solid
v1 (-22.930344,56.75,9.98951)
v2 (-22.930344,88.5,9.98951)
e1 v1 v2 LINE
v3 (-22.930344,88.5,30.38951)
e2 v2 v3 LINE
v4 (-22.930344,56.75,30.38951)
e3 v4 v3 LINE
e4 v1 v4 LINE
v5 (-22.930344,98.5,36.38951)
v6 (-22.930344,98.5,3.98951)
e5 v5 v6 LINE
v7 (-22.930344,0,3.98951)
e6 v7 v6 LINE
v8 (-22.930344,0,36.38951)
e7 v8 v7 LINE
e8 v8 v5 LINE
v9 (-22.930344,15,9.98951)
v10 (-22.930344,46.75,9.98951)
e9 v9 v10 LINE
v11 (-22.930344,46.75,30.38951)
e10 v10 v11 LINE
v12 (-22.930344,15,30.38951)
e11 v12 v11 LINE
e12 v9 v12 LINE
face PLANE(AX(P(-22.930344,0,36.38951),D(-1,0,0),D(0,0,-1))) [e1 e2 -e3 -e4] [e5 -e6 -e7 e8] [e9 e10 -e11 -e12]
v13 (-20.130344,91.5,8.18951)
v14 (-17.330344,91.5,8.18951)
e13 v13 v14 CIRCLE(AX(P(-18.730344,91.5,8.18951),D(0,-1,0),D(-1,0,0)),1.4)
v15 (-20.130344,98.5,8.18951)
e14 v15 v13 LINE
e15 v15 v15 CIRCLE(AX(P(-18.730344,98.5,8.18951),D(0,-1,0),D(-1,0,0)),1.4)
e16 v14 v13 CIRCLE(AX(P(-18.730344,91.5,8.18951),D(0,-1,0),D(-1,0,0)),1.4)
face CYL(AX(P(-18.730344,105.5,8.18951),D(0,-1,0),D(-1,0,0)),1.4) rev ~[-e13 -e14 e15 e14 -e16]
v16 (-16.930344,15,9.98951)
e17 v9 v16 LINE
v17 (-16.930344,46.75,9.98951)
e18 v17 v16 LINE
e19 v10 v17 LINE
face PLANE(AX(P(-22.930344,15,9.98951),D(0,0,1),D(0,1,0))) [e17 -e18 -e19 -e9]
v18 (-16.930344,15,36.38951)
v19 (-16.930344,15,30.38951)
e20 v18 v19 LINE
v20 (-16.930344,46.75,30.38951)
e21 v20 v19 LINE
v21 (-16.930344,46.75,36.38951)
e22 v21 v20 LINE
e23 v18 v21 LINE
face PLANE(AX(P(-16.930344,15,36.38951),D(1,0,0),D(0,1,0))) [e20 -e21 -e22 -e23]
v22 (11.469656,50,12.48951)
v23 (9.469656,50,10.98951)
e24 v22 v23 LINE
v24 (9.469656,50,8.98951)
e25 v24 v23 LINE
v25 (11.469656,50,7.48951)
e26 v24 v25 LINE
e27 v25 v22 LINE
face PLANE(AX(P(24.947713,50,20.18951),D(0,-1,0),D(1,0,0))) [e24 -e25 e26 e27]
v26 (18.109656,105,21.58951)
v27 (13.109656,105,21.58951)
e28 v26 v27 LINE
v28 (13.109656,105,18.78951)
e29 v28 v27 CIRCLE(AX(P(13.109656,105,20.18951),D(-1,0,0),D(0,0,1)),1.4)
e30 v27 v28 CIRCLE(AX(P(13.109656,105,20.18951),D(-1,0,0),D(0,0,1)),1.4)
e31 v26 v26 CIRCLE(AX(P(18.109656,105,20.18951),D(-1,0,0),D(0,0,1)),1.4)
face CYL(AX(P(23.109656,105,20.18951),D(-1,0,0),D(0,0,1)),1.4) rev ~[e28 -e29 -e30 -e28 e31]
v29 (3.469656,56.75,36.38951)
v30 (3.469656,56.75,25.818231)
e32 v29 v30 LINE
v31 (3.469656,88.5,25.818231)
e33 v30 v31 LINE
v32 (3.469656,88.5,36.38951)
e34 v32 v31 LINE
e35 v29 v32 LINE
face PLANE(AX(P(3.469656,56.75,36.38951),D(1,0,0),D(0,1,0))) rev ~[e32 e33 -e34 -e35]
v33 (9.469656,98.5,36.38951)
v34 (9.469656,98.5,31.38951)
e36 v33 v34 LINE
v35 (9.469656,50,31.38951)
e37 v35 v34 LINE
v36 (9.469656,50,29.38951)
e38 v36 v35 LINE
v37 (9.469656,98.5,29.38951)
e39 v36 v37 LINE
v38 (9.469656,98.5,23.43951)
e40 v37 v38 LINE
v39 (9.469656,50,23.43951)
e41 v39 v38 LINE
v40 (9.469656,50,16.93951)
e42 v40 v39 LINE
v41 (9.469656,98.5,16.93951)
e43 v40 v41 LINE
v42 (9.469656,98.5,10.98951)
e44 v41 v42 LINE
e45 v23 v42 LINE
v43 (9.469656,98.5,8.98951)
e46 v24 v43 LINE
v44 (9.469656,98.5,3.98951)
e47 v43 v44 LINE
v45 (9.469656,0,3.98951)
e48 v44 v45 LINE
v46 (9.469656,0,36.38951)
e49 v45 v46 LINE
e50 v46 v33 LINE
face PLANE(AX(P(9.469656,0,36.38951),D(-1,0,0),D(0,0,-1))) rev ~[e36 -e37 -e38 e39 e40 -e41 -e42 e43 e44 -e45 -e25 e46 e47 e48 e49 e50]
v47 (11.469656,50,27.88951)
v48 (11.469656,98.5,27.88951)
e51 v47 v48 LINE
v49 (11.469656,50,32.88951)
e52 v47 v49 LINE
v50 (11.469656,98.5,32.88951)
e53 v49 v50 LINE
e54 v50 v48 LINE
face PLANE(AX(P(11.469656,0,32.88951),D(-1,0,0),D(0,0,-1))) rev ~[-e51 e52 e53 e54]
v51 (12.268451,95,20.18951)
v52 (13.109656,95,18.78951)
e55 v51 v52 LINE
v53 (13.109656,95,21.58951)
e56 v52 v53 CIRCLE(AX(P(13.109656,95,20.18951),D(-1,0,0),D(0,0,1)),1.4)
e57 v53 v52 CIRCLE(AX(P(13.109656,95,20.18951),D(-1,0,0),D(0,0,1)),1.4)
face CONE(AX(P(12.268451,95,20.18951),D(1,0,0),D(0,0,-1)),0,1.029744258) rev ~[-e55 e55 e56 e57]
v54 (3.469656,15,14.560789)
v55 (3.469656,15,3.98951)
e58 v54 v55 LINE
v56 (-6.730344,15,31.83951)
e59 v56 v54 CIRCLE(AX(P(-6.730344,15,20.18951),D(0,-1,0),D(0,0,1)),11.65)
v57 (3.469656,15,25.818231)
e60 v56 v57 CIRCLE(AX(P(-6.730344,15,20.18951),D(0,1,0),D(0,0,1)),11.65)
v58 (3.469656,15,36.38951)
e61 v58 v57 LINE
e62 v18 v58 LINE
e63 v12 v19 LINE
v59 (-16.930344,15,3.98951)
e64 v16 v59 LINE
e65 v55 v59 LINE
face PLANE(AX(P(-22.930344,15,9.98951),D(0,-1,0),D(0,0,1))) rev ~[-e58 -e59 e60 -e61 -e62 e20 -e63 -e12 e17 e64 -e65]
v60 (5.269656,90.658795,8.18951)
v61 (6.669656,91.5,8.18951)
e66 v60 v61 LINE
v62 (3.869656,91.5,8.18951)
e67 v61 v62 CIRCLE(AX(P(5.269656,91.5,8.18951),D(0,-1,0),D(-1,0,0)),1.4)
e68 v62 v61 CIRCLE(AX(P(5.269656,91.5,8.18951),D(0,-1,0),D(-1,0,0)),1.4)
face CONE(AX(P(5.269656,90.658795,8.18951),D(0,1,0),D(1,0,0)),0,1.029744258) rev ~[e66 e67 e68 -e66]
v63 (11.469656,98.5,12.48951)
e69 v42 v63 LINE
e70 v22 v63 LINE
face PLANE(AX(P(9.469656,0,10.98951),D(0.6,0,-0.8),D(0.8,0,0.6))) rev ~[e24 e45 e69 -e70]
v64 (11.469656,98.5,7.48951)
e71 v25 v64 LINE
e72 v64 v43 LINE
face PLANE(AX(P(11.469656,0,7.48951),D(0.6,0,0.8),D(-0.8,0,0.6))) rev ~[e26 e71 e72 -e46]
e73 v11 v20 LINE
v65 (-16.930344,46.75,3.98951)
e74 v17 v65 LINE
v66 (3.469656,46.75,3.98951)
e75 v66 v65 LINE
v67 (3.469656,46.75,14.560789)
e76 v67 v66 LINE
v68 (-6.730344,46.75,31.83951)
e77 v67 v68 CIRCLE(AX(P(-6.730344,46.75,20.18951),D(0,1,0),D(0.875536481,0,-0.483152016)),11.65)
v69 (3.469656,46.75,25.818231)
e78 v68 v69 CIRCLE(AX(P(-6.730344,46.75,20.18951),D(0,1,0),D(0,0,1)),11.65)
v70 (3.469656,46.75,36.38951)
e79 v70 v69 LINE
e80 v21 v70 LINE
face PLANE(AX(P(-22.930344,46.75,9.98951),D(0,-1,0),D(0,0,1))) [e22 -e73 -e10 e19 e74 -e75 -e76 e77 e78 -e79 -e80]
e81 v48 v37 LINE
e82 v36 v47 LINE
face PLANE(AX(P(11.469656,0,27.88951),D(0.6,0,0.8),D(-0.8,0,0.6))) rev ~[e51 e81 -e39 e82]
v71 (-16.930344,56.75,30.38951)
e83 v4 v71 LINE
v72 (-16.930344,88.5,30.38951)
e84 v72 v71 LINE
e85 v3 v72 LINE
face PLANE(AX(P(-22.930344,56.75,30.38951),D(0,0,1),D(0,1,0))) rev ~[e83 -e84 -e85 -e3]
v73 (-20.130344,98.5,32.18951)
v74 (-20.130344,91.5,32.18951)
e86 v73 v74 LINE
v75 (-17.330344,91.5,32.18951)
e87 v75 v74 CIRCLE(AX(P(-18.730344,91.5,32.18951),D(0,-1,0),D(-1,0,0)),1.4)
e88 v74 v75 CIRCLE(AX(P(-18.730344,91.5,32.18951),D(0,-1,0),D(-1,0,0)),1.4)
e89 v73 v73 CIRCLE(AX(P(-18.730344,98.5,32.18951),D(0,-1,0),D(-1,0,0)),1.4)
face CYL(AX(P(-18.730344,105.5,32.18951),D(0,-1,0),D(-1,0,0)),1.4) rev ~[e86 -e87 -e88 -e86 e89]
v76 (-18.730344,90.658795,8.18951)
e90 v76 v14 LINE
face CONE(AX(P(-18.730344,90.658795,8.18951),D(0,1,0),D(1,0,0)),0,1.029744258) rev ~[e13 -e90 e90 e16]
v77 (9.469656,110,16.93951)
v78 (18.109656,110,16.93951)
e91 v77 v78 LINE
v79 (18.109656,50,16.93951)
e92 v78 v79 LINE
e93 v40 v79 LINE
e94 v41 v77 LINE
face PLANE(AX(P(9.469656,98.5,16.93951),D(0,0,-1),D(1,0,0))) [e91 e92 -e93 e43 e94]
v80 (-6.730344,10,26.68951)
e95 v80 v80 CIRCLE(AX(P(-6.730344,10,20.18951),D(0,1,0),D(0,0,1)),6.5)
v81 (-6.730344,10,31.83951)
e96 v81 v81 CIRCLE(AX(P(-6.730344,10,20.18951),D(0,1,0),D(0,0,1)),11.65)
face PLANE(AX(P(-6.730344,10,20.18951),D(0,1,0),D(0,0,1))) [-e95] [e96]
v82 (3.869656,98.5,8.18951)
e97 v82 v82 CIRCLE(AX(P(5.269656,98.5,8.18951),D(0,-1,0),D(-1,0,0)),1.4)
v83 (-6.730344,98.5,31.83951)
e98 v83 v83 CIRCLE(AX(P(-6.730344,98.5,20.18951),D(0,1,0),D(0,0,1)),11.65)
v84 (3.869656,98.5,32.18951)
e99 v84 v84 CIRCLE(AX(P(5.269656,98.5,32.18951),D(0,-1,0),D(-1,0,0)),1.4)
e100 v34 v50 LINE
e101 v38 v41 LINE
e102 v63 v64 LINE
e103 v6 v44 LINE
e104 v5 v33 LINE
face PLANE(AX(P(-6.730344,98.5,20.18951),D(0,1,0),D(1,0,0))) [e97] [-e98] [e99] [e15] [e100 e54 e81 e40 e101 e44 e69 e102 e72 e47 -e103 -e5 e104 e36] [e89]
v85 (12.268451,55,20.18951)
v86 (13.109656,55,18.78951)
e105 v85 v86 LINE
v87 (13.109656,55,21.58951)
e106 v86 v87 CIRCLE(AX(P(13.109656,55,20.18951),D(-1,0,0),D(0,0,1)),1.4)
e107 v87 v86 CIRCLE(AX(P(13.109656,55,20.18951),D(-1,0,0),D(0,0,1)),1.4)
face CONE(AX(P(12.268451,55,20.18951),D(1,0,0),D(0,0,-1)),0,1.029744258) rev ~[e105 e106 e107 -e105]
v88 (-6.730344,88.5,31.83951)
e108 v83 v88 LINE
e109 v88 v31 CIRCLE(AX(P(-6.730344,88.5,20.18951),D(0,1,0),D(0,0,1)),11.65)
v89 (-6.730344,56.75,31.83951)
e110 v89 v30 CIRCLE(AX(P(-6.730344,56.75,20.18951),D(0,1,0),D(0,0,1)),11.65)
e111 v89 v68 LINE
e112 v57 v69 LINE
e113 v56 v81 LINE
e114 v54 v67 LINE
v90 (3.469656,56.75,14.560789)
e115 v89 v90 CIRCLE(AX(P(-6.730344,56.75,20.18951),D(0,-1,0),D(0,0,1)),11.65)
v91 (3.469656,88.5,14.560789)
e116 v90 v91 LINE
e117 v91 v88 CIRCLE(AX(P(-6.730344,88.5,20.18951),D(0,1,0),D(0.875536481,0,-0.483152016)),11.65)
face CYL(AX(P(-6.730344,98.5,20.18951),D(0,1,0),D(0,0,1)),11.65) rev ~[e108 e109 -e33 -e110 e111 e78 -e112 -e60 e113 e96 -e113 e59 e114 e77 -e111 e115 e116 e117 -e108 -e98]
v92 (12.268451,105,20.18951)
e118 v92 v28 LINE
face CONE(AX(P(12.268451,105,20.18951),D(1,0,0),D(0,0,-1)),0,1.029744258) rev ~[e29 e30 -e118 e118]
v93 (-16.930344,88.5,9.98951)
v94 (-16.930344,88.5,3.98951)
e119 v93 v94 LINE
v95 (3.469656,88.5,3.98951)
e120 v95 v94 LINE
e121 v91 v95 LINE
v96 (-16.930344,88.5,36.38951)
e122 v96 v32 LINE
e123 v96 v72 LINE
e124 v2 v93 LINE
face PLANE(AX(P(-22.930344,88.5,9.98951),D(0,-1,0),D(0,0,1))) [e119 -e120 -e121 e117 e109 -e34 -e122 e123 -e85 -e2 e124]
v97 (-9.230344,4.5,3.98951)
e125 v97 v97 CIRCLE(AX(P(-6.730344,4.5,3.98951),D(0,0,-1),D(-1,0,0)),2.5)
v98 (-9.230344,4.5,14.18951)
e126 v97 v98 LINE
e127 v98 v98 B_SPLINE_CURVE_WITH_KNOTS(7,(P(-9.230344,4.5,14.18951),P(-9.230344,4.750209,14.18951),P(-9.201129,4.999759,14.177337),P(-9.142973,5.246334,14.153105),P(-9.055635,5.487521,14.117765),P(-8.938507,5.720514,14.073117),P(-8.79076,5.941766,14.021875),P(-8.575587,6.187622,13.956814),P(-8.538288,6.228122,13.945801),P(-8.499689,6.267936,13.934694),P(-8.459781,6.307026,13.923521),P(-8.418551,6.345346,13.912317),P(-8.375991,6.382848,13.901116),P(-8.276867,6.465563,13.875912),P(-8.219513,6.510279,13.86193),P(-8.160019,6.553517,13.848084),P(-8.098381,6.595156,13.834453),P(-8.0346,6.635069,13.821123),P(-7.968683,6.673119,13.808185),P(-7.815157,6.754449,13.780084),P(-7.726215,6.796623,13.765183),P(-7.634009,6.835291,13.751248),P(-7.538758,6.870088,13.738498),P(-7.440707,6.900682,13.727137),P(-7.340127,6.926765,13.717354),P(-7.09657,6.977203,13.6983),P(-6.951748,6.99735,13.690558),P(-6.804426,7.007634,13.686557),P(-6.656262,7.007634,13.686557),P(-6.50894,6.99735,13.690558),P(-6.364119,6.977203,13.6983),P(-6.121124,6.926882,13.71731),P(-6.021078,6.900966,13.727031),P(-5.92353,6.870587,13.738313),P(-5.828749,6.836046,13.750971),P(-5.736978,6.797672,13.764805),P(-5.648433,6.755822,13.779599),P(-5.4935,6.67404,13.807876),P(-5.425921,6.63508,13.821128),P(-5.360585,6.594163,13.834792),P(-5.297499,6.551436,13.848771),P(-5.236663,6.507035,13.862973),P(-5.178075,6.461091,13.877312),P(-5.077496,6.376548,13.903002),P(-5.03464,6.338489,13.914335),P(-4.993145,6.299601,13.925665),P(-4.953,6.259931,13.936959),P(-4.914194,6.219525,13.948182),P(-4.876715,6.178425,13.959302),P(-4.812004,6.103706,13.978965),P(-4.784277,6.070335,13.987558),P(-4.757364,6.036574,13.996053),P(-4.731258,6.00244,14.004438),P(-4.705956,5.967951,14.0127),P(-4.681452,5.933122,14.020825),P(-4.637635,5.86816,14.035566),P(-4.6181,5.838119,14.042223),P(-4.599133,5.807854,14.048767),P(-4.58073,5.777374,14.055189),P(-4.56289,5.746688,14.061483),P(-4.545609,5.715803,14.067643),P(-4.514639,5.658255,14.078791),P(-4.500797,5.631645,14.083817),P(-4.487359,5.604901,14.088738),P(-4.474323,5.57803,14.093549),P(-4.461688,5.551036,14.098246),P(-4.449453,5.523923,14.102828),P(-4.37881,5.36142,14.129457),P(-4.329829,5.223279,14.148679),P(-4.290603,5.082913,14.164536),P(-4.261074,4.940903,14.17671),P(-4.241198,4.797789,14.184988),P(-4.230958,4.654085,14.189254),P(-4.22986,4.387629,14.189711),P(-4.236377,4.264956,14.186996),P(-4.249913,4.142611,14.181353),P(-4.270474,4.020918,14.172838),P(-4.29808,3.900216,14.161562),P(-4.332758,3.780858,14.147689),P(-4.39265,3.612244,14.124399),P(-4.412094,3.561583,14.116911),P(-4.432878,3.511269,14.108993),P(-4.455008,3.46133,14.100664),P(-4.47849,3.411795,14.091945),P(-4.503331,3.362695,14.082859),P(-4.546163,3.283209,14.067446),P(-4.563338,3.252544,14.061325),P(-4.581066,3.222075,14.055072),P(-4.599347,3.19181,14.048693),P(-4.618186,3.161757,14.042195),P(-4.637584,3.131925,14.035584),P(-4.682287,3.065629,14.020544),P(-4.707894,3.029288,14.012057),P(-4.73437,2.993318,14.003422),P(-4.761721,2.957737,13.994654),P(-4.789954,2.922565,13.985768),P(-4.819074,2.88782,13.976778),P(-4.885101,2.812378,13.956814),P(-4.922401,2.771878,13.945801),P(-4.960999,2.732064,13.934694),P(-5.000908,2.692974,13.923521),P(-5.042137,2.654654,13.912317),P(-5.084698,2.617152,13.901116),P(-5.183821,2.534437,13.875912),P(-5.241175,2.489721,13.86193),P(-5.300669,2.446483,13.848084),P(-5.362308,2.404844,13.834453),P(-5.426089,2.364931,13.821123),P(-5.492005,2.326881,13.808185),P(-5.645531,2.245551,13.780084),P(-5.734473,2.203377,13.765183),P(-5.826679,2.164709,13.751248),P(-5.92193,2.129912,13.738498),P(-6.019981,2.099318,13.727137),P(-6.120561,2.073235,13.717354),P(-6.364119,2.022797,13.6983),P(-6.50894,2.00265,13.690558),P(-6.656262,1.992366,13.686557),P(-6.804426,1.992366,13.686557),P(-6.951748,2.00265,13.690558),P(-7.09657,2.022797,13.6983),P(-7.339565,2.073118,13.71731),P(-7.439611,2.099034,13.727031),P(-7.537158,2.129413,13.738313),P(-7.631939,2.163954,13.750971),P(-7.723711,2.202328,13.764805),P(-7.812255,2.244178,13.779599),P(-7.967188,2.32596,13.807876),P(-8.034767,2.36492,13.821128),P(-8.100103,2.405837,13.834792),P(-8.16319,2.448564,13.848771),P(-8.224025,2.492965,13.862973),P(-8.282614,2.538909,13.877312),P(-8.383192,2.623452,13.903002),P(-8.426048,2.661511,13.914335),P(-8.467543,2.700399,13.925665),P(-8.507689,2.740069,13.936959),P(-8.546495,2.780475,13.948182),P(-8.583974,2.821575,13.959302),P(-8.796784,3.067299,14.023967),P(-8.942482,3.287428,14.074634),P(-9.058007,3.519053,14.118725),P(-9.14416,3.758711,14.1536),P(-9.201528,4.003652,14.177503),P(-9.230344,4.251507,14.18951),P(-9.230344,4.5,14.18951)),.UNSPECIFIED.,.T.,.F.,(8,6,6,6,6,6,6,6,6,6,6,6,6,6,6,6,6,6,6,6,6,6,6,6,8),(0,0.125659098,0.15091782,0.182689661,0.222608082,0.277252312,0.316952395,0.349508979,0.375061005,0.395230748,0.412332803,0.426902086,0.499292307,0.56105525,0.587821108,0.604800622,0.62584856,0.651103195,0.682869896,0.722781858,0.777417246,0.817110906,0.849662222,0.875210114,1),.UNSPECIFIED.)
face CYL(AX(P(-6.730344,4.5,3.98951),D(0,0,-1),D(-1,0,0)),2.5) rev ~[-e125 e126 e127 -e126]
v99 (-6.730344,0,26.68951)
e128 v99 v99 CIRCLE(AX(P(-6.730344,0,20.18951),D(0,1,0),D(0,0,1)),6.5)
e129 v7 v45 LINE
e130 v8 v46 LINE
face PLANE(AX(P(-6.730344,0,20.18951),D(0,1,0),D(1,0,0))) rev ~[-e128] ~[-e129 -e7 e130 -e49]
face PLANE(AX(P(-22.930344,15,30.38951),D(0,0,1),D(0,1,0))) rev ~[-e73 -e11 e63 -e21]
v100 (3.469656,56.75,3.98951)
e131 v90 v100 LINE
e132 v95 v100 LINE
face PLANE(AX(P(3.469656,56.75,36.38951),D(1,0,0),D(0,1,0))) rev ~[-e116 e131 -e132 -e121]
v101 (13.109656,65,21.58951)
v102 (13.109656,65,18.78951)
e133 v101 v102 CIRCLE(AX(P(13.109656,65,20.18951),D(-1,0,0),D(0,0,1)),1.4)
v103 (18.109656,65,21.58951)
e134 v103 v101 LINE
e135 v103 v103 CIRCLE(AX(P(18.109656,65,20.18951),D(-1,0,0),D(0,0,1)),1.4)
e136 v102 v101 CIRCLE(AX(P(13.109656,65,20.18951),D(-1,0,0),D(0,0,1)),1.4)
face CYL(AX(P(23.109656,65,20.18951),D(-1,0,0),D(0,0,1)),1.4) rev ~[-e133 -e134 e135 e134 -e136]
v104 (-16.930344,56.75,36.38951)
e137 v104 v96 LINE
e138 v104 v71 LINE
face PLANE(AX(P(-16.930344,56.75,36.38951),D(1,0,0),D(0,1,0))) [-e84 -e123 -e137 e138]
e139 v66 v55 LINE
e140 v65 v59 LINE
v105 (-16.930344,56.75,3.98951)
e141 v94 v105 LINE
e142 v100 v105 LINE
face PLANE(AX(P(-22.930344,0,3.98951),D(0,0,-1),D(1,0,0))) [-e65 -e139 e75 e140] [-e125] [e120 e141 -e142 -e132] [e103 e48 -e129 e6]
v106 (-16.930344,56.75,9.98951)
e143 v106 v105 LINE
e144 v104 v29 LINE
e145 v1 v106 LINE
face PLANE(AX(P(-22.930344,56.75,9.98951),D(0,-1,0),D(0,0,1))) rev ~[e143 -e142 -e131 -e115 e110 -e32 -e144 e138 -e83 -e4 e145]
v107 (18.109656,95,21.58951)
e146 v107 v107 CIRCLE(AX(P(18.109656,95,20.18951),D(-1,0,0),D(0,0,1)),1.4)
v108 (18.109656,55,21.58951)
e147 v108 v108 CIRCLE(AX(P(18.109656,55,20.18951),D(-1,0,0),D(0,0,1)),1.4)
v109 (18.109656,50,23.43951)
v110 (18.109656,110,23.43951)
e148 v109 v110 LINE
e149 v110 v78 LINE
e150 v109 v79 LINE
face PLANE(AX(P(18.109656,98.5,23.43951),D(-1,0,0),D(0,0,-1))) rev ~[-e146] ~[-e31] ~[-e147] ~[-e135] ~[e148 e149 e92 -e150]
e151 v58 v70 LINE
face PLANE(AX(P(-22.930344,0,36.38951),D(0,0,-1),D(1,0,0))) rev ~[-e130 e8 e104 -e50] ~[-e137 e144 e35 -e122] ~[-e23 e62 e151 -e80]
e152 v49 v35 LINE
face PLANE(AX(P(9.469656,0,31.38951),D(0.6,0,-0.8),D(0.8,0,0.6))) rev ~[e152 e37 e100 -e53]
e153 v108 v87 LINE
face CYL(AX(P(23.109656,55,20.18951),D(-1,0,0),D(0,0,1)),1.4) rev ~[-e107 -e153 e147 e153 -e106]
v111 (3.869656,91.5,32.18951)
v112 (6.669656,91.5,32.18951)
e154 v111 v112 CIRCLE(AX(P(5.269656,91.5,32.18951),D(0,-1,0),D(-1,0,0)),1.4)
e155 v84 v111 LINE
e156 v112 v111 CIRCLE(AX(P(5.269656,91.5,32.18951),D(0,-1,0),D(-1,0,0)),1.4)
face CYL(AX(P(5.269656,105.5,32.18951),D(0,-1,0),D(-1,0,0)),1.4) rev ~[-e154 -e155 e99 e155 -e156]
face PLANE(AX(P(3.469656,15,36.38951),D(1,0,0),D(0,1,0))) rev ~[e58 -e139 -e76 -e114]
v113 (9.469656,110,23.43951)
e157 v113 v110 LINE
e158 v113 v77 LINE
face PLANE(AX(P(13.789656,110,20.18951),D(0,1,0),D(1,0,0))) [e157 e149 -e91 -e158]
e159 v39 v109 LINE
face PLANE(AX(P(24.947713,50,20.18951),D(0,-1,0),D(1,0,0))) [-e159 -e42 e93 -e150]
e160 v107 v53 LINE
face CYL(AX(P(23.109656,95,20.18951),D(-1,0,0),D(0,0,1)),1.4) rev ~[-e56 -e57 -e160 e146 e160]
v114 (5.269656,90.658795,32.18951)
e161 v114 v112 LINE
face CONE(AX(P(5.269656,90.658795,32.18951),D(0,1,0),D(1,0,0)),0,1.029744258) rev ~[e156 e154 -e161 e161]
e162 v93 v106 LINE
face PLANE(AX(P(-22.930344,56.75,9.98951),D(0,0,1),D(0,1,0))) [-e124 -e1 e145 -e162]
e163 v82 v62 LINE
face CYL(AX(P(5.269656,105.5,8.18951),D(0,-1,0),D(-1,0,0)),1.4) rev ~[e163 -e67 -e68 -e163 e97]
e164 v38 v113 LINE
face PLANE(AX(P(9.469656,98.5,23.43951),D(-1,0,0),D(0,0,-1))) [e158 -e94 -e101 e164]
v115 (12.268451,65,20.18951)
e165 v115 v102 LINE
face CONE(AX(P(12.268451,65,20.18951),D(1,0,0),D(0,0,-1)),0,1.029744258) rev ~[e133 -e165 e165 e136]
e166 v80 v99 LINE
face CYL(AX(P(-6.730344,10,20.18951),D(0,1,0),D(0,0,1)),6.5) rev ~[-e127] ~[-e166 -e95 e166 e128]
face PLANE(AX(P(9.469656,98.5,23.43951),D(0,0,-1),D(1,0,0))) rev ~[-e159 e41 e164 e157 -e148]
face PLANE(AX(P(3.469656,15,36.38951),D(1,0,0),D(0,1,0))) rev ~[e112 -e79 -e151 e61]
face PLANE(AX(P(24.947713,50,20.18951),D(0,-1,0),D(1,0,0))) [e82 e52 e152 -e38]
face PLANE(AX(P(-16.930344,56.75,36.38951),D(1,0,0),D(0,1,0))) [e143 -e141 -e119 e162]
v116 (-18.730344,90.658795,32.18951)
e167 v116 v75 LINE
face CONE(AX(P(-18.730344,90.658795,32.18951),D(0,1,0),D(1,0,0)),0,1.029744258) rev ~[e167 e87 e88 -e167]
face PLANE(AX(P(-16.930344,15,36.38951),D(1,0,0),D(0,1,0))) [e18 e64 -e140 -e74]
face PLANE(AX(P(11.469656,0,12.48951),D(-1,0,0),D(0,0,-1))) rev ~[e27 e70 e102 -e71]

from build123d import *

# Parameters (mm, degrees)
SKETCH1_W                 = 32.4
SKETCH1_H                 = 32.4
BOSS_EXTRUDE1_DEPTH       = 98.5
SKETCH2_R                 = 11.65
CUT_EXTRUDE1_DEPTH        = 88.5
SKETCH3_R                 = 6.5
CUT_EXTRUDE2_DEPTH        = 99.398410022
F_1_0MM_DOWEL_HOLE1_D     = 2.8
F_1_0MM_DOWEL_HOLE1_DEPTH = 7
F_1_0MM_DOWEL_HOLE1_TIP   = 0.841204867
SKETCH7_R                 = 2.5
CUT_EXTRUDE3_DEPTH        = 14
SKETCH8_W                 = 6.5
SKETCH8_H                 = 98.5
BOSS_EXTRUDE2_DEPTH       = 8.64
SKETCH14_W                = 30.956114244
SKETCH14_H                = 32.4
CUT_EXTRUDE6_DEPTH        = 50
SKETCH11_W                = 20.4
SKETCH11_H                = 31.75
CUT_EXTRUDE4_DEPTH        = 107.197037106
SKETCH12_W                = 20.4
SKETCH12_H                = 31.75
CUT_EXTRUDE5_DEPTH        = 15
SKETCH23_W                = 8.64
SKETCH23_H                = 6.5
BOSS_EXTRUDE3_DEPTH       = 11.5
F_1_0MM_DOWEL_HOLE3_D     = 2.8
F_1_0MM_DOWEL_HOLE3_DEPTH = 5
F_1_0MM_DOWEL_HOLE3_TIP   = 0.841204867


with BuildPart() as part:
    # Sketch1 → Boss-Extrude1 (new body)
    with BuildSketch(Plane(origin=(0, 0, 0), x_dir=(1, 0, 0), z_dir=(0, 1, 0))):
        with Locations((-6.730344165, -20.189509634)):
            Rectangle(SKETCH1_W, SKETCH1_H)
        Polygon((11.469655835, -27.889509634), (9.469655835, -29.389509634), (9.469655835, -31.389509634), (11.469655835, -32.889509634), align=None)
        Polygon((11.469655835, -7.489509634), (9.469655835, -8.989509634), (9.469655835, -10.989509634), (11.469655835, -12.489509634), align=None)
    extrude(amount=BOSS_EXTRUDE1_DEPTH)

    # Sketch2 → Cut-Extrude1 (cut)
    with BuildSketch(Plane(origin=(0, 98.5, 0), x_dir=(1, 0, 0), z_dir=(0, 1, 0))):
        with Locations(Location((-6.730344165, -20.189509634, 0), (0, 0, 270))):
            Circle(SKETCH2_R)
    extrude(amount=-CUT_EXTRUDE1_DEPTH, mode=Mode.SUBTRACT)

    # Sketch3 → Cut-Extrude2 (cut, through all)
    with BuildSketch(Plane(origin=(0, 10, 0), x_dir=(1, 0, 0), z_dir=(0, 1, 0))):
        with Locations(Location((-6.730344165, -20.189509634, 0), (0, 0, 270))):
            Circle(SKETCH3_R)
    extrude(amount=-CUT_EXTRUDE2_DEPTH, mode=Mode.SUBTRACT)

    # Ø1.0mm Dowel Hole1
    with Locations(Plane(origin=(0, 98.5, 0), x_dir=(1, 0, 0), z_dir=(0, 1, 0))):
        with Locations((-18.730344165, -8.189509634), (5.269655835, -8.189509634), (5.269655835, -32.189509634), (-18.730344165, -32.189509634)):
            Hole(F_1_0MM_DOWEL_HOLE1_D / 2, depth=F_1_0MM_DOWEL_HOLE1_DEPTH)
            with Locations((0, 0, -(F_1_0MM_DOWEL_HOLE1_DEPTH + F_1_0MM_DOWEL_HOLE1_TIP / 2))):  # 118° drill point
                Cone(0, F_1_0MM_DOWEL_HOLE1_D / 2, F_1_0MM_DOWEL_HOLE1_TIP, mode=Mode.SUBTRACT)

    # Sketch7 → Cut-Extrude3 (cut)
    with BuildSketch(Plane(origin=(0, 0, 3.989509634), x_dir=(-1, 0, 0), z_dir=(0, 0, -1))):
        with Locations((6.730344165, 4.5)):
            Circle(SKETCH7_R)
    extrude(amount=-CUT_EXTRUDE3_DEPTH, mode=Mode.SUBTRACT)

    # Sketch8 → Boss-Extrude2 (add)
    with BuildSketch(Plane(origin=(9.469655835, 0, 0), x_dir=(0, 0, -1), z_dir=(1, 0, 0))):
        with Locations((-20.189509634, 49.25)):
            Rectangle(SKETCH8_W, SKETCH8_H)
    extrude(amount=BOSS_EXTRUDE2_DEPTH)

    # Sketch14 → Cut-Extrude6 (cut)
    with BuildSketch(Plane.XZ):
        with Locations((24.947712957, 20.189509634)):
            Rectangle(SKETCH14_W, SKETCH14_H)
    extrude(amount=-CUT_EXTRUDE6_DEPTH, mode=Mode.SUBTRACT)

    # Sketch11 → Cut-Extrude4 (cut, through all)
    with BuildSketch(Plane.XY.offset(36.389509634)):
        with Locations((-6.730344165, 72.625)):
            Rectangle(SKETCH11_W, SKETCH11_H)
        with Locations((-6.730344165, 30.875)):
            Rectangle(SKETCH11_W, SKETCH11_H)
    extrude(amount=-CUT_EXTRUDE4_DEPTH, mode=Mode.SUBTRACT)

    # Sketch12 → Cut-Extrude5 (cut)
    with BuildSketch(Plane.ZY.offset(22.930344165)):
        with Locations((20.189509634, 72.625)):
            Rectangle(SKETCH12_W, SKETCH12_H)
        with Locations((20.189509634, 30.875)):
            Rectangle(SKETCH12_W, SKETCH12_H)
    extrude(amount=-CUT_EXTRUDE5_DEPTH, mode=Mode.SUBTRACT)

    # Sketch23 → Boss-Extrude3 (add)
    with BuildSketch(Plane(origin=(0, 98.5, 0), x_dir=(1, 0, 0), z_dir=(0, 1, 0))):
        with Locations((13.789655835, -20.189509634)):
            Rectangle(SKETCH23_W, SKETCH23_H)
    extrude(amount=BOSS_EXTRUDE3_DEPTH)

    # Ø1.0mm Dowel Hole3
    with Locations(Plane(origin=(18.109655835, 0, 0), x_dir=(0, 0, -1), z_dir=(1, 0, 0))):
        with Locations((-20.189509634, 105), (-20.189509634, 55), (-20.189509634, 65), (-20.189509634, 95)):
            Hole(F_1_0MM_DOWEL_HOLE3_D / 2, depth=F_1_0MM_DOWEL_HOLE3_DEPTH)
            with Locations((0, 0, -(F_1_0MM_DOWEL_HOLE3_DEPTH + F_1_0MM_DOWEL_HOLE3_TIP / 2))):  # 118° drill point
                Cone(0, F_1_0MM_DOWEL_HOLE3_D / 2, F_1_0MM_DOWEL_HOLE3_TIP, mode=Mode.SUBTRACT)


solid = part.part
